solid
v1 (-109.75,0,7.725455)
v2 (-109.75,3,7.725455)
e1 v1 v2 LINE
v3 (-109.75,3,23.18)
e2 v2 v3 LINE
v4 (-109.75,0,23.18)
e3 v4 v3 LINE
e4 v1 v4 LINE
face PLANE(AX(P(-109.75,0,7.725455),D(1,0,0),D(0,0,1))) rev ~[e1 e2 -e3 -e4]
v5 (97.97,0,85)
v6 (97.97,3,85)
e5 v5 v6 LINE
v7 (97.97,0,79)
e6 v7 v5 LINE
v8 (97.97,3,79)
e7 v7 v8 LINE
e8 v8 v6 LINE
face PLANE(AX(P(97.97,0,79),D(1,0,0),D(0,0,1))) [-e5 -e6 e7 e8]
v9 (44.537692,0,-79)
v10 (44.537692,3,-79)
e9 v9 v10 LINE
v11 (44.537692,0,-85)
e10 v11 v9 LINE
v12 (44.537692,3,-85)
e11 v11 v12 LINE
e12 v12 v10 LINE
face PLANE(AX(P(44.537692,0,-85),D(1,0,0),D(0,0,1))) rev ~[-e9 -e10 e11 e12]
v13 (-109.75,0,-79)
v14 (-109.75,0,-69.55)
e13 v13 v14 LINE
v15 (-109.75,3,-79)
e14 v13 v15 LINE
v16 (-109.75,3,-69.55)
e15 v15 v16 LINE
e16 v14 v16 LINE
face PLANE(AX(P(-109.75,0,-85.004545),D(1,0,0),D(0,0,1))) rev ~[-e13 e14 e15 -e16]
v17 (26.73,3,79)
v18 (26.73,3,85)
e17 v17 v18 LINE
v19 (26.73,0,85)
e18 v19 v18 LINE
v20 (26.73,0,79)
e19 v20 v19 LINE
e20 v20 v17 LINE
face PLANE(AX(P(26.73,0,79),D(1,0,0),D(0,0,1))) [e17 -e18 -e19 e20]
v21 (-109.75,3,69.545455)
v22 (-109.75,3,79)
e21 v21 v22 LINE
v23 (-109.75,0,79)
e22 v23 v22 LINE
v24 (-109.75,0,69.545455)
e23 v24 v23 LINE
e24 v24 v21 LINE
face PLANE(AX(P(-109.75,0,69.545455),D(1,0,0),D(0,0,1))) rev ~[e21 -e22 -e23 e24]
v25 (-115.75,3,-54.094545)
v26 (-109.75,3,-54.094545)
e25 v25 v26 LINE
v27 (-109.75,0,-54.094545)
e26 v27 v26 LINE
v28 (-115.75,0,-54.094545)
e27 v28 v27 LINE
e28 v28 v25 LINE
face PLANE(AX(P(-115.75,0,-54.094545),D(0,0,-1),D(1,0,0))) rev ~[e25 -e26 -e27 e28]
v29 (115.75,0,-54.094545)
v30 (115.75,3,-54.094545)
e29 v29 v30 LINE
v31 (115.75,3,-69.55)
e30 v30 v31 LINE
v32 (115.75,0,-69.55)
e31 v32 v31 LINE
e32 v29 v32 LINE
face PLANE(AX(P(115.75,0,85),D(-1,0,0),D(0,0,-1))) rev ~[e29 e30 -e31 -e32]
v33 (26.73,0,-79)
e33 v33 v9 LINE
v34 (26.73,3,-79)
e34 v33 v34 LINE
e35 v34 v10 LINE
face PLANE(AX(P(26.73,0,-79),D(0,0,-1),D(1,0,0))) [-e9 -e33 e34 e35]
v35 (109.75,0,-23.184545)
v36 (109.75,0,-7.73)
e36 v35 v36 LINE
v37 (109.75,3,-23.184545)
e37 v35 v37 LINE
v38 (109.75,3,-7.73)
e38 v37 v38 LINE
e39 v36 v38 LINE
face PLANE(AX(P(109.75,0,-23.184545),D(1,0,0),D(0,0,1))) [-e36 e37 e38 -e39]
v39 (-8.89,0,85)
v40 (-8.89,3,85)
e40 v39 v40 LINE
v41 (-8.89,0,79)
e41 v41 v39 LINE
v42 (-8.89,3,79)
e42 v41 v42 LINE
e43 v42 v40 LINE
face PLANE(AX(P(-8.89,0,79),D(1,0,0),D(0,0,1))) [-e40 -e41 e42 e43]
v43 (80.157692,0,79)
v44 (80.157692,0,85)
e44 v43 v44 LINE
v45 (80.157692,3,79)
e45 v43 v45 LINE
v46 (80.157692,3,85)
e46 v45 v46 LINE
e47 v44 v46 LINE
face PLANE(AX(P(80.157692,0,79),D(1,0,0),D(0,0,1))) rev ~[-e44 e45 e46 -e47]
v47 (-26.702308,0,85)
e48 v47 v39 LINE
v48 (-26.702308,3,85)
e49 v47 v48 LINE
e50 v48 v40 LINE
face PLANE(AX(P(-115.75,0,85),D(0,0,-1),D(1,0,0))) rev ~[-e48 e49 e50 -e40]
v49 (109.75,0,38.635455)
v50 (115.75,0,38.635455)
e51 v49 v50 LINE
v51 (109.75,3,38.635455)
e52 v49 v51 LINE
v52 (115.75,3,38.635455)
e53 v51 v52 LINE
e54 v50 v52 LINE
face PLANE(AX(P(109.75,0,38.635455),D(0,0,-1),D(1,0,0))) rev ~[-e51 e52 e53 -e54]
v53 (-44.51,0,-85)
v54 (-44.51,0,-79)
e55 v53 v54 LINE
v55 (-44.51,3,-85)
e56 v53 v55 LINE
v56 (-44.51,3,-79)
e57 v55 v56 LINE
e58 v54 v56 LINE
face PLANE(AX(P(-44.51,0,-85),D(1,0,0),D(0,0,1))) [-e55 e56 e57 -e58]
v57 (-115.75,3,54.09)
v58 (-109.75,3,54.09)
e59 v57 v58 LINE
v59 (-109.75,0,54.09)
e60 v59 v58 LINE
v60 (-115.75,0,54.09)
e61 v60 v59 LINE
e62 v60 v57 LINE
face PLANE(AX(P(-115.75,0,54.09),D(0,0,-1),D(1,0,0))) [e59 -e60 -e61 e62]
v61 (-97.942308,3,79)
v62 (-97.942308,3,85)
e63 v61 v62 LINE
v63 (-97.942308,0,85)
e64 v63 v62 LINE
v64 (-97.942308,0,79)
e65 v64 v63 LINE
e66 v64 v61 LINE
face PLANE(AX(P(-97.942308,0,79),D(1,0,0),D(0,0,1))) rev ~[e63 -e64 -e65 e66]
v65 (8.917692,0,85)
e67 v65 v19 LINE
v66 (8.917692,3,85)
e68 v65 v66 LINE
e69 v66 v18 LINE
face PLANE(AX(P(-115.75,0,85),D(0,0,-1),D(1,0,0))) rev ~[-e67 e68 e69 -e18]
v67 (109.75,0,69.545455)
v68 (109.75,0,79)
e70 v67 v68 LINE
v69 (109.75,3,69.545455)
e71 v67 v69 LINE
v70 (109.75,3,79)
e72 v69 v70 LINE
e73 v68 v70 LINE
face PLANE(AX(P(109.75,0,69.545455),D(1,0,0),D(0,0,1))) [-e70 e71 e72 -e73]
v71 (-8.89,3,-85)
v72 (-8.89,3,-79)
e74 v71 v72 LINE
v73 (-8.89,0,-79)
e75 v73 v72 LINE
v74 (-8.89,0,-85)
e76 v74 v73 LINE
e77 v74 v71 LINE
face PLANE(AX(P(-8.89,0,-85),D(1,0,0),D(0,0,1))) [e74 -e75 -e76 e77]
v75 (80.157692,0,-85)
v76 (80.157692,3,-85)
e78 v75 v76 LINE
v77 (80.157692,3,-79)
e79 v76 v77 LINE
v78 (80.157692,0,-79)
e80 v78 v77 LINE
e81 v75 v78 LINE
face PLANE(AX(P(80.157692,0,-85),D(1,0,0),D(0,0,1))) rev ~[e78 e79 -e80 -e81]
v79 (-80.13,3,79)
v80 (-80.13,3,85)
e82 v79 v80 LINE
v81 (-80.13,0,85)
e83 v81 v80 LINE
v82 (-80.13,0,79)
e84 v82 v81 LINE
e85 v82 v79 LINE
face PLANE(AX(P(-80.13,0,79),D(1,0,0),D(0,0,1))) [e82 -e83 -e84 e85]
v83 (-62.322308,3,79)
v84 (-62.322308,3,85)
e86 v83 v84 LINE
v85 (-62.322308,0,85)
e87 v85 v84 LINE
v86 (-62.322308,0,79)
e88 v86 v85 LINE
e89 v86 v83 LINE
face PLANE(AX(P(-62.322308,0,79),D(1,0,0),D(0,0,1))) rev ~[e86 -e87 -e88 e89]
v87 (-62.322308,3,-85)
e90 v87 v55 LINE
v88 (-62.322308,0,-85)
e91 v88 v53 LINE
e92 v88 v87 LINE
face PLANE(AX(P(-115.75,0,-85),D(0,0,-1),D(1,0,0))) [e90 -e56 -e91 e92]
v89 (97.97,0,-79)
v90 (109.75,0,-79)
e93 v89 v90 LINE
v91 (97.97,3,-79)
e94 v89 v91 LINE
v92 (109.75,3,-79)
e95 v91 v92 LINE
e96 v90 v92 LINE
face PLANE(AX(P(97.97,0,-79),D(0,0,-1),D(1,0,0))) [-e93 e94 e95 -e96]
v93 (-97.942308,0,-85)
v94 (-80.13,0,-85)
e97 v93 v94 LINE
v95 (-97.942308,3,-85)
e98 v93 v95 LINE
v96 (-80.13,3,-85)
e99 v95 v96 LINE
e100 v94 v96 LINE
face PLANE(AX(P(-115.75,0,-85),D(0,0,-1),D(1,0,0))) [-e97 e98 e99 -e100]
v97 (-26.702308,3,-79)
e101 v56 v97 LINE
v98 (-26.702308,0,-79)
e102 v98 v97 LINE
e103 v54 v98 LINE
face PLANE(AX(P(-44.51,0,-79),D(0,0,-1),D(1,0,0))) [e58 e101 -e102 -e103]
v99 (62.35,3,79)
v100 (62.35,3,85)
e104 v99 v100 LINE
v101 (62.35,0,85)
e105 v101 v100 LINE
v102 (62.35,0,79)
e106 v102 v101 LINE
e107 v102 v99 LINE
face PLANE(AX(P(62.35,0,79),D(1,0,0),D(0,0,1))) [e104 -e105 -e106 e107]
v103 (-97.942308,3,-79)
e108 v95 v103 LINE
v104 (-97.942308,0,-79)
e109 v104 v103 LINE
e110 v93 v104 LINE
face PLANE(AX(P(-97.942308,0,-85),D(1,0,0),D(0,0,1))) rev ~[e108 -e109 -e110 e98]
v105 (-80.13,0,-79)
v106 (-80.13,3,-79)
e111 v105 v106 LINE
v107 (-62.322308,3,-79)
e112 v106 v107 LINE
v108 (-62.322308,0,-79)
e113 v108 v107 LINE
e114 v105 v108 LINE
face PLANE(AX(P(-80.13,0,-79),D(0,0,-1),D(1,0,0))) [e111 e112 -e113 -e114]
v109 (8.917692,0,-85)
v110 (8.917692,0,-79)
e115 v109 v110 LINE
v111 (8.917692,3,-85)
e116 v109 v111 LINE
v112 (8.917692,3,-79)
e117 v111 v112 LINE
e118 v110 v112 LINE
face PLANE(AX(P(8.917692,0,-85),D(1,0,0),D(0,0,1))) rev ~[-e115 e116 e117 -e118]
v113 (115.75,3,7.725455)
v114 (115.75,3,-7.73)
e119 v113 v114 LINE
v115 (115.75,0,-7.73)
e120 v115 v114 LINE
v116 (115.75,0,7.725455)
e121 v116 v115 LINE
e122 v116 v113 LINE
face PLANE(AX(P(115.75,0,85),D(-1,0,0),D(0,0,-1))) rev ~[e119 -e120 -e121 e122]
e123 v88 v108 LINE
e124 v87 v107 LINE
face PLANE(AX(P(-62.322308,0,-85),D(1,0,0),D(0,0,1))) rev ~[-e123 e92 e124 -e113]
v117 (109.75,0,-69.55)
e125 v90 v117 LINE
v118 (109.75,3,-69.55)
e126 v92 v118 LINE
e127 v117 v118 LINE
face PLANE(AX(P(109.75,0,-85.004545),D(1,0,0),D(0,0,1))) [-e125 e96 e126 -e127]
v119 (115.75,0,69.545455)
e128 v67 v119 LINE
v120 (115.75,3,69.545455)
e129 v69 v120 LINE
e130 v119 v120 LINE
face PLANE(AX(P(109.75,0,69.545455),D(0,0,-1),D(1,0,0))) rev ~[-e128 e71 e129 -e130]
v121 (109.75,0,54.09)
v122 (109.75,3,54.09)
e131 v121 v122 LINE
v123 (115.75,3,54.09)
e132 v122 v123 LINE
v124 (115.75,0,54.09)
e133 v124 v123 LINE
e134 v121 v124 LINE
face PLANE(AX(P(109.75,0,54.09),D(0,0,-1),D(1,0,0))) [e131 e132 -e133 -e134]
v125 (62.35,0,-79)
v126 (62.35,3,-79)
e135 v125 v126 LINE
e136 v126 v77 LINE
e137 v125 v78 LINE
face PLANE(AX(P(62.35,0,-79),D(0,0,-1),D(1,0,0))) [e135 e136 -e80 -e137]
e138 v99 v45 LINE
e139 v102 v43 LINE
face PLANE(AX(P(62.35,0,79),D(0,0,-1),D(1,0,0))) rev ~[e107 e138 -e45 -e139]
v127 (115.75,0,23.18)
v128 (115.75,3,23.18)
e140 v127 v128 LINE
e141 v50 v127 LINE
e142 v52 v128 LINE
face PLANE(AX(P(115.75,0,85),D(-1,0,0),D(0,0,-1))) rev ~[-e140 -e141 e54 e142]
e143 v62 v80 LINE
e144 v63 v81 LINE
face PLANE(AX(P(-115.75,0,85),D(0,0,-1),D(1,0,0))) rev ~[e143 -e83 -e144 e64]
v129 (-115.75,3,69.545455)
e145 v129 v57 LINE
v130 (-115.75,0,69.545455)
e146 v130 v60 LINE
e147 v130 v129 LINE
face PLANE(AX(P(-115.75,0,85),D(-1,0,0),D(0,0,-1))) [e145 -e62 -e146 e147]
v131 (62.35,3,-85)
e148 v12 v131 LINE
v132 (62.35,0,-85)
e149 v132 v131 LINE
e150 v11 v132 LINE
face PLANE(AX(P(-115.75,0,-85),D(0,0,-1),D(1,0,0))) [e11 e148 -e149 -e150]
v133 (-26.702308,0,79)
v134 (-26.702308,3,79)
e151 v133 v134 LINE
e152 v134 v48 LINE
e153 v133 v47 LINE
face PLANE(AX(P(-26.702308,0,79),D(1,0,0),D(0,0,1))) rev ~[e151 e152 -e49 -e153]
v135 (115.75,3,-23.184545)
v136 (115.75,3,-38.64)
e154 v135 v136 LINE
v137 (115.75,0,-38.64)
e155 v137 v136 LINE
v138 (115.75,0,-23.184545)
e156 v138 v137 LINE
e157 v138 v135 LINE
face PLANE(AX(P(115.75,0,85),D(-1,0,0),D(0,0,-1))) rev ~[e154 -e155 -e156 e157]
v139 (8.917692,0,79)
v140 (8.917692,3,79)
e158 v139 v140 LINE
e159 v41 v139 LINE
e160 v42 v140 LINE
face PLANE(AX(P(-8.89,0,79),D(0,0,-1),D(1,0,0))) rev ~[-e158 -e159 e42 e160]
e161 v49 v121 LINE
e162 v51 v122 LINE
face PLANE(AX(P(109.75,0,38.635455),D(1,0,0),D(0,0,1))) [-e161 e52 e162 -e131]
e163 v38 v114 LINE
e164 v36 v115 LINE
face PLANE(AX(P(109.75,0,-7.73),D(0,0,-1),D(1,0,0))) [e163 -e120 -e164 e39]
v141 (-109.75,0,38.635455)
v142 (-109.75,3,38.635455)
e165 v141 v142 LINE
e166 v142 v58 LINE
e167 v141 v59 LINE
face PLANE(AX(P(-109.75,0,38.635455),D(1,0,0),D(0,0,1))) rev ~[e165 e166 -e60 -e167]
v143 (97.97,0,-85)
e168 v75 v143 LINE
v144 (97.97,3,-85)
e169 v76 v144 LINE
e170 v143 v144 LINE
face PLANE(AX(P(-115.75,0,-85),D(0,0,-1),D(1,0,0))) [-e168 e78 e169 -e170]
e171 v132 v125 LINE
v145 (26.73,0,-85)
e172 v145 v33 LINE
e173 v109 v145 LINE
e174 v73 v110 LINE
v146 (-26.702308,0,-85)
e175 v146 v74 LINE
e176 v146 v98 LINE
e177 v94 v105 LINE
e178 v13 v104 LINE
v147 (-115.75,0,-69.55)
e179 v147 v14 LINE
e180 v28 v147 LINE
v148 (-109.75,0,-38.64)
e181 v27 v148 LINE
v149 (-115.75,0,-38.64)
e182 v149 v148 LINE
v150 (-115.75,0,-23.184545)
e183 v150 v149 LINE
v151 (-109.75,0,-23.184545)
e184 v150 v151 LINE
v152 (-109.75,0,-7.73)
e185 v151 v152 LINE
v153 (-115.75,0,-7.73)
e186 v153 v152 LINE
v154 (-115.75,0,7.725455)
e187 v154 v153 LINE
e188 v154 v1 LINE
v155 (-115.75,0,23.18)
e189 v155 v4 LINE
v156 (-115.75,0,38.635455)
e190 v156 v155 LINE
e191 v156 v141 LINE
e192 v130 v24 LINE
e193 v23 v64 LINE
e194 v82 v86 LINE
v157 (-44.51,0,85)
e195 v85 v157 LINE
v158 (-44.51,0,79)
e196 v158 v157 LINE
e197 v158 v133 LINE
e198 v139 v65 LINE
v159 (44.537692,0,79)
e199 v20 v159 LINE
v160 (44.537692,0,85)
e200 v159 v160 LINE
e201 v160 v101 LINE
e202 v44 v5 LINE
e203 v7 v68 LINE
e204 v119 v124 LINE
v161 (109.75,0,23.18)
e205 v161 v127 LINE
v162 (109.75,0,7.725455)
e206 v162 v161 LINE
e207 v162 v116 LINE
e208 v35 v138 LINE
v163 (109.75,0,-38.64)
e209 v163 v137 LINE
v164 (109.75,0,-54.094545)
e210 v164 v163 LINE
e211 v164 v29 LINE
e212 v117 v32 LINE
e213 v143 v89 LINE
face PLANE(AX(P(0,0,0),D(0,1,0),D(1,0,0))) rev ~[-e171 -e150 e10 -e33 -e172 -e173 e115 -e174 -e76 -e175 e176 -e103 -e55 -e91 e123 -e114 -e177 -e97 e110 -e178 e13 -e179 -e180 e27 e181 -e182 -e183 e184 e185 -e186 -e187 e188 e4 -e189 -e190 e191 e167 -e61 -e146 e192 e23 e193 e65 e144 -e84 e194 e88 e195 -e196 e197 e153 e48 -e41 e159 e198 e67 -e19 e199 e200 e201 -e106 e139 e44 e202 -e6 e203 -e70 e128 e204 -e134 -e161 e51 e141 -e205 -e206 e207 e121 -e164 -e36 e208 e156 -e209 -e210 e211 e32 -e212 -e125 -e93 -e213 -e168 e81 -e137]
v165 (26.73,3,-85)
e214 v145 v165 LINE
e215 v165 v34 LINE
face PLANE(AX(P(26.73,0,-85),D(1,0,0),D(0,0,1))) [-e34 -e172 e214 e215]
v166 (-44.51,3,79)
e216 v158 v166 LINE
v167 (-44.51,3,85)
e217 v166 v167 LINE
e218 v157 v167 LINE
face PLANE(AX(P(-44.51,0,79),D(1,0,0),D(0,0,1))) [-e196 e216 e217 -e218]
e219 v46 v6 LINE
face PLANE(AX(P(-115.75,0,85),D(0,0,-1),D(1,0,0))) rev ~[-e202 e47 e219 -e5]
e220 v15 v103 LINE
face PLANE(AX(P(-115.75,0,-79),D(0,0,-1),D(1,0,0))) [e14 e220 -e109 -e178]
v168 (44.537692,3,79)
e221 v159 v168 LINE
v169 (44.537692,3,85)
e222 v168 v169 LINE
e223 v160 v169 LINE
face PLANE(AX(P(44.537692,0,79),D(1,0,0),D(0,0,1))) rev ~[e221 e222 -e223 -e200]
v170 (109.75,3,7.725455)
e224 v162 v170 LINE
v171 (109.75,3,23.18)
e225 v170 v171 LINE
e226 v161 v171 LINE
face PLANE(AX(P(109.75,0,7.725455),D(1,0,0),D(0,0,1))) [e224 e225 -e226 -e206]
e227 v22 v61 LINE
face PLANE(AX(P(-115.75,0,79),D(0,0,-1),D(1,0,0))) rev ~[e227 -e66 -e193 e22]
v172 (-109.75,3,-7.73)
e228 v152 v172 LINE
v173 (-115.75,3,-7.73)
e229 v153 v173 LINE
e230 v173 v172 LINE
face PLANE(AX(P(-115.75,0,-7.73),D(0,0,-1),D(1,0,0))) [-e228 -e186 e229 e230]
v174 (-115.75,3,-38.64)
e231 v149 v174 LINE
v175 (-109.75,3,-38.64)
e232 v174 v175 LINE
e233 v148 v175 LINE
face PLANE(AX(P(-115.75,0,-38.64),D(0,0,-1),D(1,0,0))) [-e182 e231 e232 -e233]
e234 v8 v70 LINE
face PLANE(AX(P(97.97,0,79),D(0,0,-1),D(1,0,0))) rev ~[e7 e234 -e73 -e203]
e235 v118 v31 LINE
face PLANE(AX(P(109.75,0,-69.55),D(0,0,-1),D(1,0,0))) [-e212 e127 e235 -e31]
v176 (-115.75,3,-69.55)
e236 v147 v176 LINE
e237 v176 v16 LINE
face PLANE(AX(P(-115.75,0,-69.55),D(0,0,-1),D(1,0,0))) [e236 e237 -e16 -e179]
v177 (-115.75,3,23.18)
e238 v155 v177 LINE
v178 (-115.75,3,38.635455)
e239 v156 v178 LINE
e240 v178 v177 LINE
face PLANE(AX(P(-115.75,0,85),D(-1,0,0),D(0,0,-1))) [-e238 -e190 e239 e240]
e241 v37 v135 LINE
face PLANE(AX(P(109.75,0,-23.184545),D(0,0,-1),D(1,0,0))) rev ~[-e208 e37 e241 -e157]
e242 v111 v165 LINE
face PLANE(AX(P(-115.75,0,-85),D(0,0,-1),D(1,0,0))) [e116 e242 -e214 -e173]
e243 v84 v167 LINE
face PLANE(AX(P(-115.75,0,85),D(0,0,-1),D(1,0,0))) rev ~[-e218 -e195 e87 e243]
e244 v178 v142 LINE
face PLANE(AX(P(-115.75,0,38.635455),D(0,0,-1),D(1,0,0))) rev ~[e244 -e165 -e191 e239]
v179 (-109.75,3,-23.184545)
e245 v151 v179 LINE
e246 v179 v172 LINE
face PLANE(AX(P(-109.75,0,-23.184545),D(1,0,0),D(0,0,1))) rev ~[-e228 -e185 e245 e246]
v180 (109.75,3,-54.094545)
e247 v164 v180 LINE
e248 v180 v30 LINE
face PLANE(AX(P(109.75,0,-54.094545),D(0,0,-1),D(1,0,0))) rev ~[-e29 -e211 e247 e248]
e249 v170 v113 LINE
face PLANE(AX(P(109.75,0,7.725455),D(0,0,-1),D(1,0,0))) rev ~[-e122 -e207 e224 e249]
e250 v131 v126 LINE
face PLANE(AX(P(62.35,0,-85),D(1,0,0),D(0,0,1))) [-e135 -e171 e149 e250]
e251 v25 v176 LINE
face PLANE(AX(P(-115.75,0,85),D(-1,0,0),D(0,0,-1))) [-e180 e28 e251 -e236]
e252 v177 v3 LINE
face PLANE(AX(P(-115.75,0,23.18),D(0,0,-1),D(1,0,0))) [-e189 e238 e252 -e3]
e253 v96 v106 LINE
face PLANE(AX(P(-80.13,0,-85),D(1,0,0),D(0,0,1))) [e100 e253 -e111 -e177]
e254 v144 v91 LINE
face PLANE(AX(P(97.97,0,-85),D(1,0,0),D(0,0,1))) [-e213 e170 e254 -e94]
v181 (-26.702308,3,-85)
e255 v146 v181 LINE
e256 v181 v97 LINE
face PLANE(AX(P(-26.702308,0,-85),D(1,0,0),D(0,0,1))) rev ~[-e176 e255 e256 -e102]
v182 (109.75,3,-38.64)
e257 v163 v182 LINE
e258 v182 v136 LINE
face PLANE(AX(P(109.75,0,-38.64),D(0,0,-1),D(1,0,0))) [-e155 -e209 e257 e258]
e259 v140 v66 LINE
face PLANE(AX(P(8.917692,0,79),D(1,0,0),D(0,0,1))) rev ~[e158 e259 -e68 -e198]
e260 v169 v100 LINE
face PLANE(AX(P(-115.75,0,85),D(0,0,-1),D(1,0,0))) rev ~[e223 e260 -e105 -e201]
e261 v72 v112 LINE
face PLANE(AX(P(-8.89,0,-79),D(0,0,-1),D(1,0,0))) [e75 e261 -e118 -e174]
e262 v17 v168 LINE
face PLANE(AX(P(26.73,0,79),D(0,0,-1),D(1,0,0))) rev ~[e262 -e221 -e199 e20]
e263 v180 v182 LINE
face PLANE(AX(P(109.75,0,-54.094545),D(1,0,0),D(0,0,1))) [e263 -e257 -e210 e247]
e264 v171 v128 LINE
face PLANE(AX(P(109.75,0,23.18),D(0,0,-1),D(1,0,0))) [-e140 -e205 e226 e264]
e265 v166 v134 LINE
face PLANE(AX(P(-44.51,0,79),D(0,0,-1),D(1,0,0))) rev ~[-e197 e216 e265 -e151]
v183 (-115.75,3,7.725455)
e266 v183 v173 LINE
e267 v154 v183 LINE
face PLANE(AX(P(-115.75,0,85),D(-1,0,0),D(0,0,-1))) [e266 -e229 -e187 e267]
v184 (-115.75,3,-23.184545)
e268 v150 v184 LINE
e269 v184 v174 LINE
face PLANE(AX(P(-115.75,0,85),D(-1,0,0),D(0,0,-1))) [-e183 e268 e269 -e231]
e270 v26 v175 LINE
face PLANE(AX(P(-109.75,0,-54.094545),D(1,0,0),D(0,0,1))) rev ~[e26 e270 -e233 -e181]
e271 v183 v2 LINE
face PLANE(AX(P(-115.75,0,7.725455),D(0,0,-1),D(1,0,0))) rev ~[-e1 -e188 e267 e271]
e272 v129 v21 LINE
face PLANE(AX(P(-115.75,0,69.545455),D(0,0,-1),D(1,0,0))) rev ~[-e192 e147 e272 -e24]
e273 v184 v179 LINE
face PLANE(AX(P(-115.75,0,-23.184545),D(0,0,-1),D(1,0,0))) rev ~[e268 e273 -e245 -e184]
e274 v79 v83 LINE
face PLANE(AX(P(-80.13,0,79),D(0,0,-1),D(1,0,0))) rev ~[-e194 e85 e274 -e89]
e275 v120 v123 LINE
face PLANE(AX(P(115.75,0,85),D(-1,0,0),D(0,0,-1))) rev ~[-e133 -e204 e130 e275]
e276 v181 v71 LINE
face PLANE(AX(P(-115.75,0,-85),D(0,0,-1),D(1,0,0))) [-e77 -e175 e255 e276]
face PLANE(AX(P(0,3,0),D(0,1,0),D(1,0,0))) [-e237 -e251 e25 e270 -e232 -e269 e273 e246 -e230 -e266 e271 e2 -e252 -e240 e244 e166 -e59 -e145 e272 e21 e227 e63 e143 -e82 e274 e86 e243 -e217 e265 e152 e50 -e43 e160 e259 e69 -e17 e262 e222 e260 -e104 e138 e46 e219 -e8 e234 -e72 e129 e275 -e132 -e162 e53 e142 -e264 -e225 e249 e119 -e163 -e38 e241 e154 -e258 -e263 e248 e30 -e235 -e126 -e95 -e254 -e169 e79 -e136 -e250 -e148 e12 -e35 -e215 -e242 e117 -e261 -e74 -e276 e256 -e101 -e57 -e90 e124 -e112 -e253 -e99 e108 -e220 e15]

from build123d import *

# Parameters (mm, degrees)
ESBO_O1_W                = 231.5
ESBO_O1_H                = 170
RESSALTO_EXTRUS_O1_DEPTH = 3
CORTE_EXTRUS_O1_REACH    = 145.639
ESBO_O2_W                = 17.807692308
ESBO_O2_H                = 6
CORTE_EXTRUS_O2_REACH    = 145.639
ESBO_O3_W                = 6
ESBO_O3_H                = 15.454545455


with BuildPart() as part:
    # Esboço1 → Ressalto-extrusão1 (new body)
    with BuildSketch(Plane(origin=(0, 0, 0), x_dir=(1, 0, 0), z_dir=(0, 1, 0))):
        Rectangle(ESBO_O1_W, ESBO_O1_H)
    extrude(amount=RESSALTO_EXTRUS_O1_DEPTH)

    # Esboço2 → Corte-extrusão1 (cut, up to next)
    with BuildSketch(Plane.XZ, mode=Mode.PRIVATE) as corte_extrus_o1_sk1:
        with Locations((-71.226153846, 82)):
            Rectangle(ESBO_O2_W, ESBO_O2_H)
    corte_extrus_o1_tool1 = extrude(corte_extrus_o1_sk1.sketch, amount=-CORTE_EXTRUS_O1_REACH, mode=Mode.PRIVATE) & part.part
    # Esboço2 → Corte-extrusão1 (cut, up to next)
    with BuildSketch(Plane.XZ, mode=Mode.PRIVATE) as corte_extrus_o1_sk2:
        with Locations((-106.846153846, 82)):
            Rectangle(ESBO_O2_W, ESBO_O2_H)
    corte_extrus_o1_tool2 = extrude(corte_extrus_o1_sk2.sketch, amount=-CORTE_EXTRUS_O1_REACH, mode=Mode.PRIVATE) & part.part
    # Esboço2 → Corte-extrusão1 (cut, up to next)
    with BuildSketch(Plane.XZ, mode=Mode.PRIVATE) as corte_extrus_o1_sk3:
        with Locations((-35.606153846, 82)):
            Rectangle(ESBO_O2_W, ESBO_O2_H)
    corte_extrus_o1_tool3 = extrude(corte_extrus_o1_sk3.sketch, amount=-CORTE_EXTRUS_O1_REACH, mode=Mode.PRIVATE) & part.part
    # Esboço2 → Corte-extrusão1 (cut, up to next)
    with BuildSketch(Plane.XZ, mode=Mode.PRIVATE) as corte_extrus_o1_sk4:
        with Locations((0.013846154, 82)):
            Rectangle(ESBO_O2_W, ESBO_O2_H)
    corte_extrus_o1_tool4 = extrude(corte_extrus_o1_sk4.sketch, amount=-CORTE_EXTRUS_O1_REACH, mode=Mode.PRIVATE) & part.part
    # Esboço2 → Corte-extrusão1 (cut, up to next)
    with BuildSketch(Plane.XZ, mode=Mode.PRIVATE) as corte_extrus_o1_sk5:
        with Locations((35.633846154, 82)):
            Rectangle(ESBO_O2_W, ESBO_O2_H)
    corte_extrus_o1_tool5 = extrude(corte_extrus_o1_sk5.sketch, amount=-CORTE_EXTRUS_O1_REACH, mode=Mode.PRIVATE) & part.part
    # Esboço2 → Corte-extrusão1 (cut, up to next)
    with BuildSketch(Plane.XZ, mode=Mode.PRIVATE) as corte_extrus_o1_sk6:
        with Locations((71.253846154, 82)):
            Rectangle(ESBO_O2_W, ESBO_O2_H)
    corte_extrus_o1_tool6 = extrude(corte_extrus_o1_sk6.sketch, amount=-CORTE_EXTRUS_O1_REACH, mode=Mode.PRIVATE) & part.part
    # Esboço2 → Corte-extrusão1 (cut, up to next)
    with BuildSketch(Plane.XZ, mode=Mode.PRIVATE) as corte_extrus_o1_sk7:
        with Locations((106.873846154, 82)):
            Rectangle(ESBO_O2_W, ESBO_O2_H)
    corte_extrus_o1_tool7 = extrude(corte_extrus_o1_sk7.sketch, amount=-CORTE_EXTRUS_O1_REACH, mode=Mode.PRIVATE) & part.part
    # Esboço2 → Corte-extrusão1 (cut, up to next)
    with BuildSketch(Plane.XZ, mode=Mode.PRIVATE) as corte_extrus_o1_sk8:
        with Locations((-71.226153846, -82)):
            Rectangle(ESBO_O2_W, ESBO_O2_H)
    corte_extrus_o1_tool8 = extrude(corte_extrus_o1_sk8.sketch, amount=-CORTE_EXTRUS_O1_REACH, mode=Mode.PRIVATE) & part.part
    # Esboço2 → Corte-extrusão1 (cut, up to next)
    with BuildSketch(Plane.XZ, mode=Mode.PRIVATE) as corte_extrus_o1_sk9:
        with Locations((-35.606153846, -82)):
            Rectangle(ESBO_O2_W, ESBO_O2_H)
    corte_extrus_o1_tool9 = extrude(corte_extrus_o1_sk9.sketch, amount=-CORTE_EXTRUS_O1_REACH, mode=Mode.PRIVATE) & part.part
    # Esboço2 → Corte-extrusão1 (cut, up to next)
    with BuildSketch(Plane.XZ, mode=Mode.PRIVATE) as corte_extrus_o1_sk10:
        with Locations((0.013846154, -82)):
            Rectangle(ESBO_O2_W, ESBO_O2_H)
    corte_extrus_o1_tool10 = extrude(corte_extrus_o1_sk10.sketch, amount=-CORTE_EXTRUS_O1_REACH, mode=Mode.PRIVATE) & part.part
    # Esboço2 → Corte-extrusão1 (cut, up to next)
    with BuildSketch(Plane.XZ, mode=Mode.PRIVATE) as corte_extrus_o1_sk11:
        with Locations((35.633846154, -82)):
            Rectangle(ESBO_O2_W, ESBO_O2_H)
    corte_extrus_o1_tool11 = extrude(corte_extrus_o1_sk11.sketch, amount=-CORTE_EXTRUS_O1_REACH, mode=Mode.PRIVATE) & part.part
    # Esboço2 → Corte-extrusão1 (cut, up to next)
    with BuildSketch(Plane.XZ, mode=Mode.PRIVATE) as corte_extrus_o1_sk12:
        with Locations((71.253846154, -82)):
            Rectangle(ESBO_O2_W, ESBO_O2_H)
    corte_extrus_o1_tool12 = extrude(corte_extrus_o1_sk12.sketch, amount=-CORTE_EXTRUS_O1_REACH, mode=Mode.PRIVATE) & part.part
    # Esboço2 → Corte-extrusão1 (cut, up to next)
    with BuildSketch(Plane.XZ, mode=Mode.PRIVATE) as corte_extrus_o1_sk13:
        with Locations((106.873846154, -82)):
            Rectangle(ESBO_O2_W, ESBO_O2_H)
    corte_extrus_o1_tool13 = extrude(corte_extrus_o1_sk13.sketch, amount=-CORTE_EXTRUS_O1_REACH, mode=Mode.PRIVATE) & part.part
    # Esboço2 → Corte-extrusão1 (cut, up to next)
    with BuildSketch(Plane.XZ, mode=Mode.PRIVATE) as corte_extrus_o1_sk14:
        with Locations((-106.846153846, -82)):
            Rectangle(ESBO_O2_W, ESBO_O2_H)
    corte_extrus_o1_tool14 = extrude(corte_extrus_o1_sk14.sketch, amount=-CORTE_EXTRUS_O1_REACH, mode=Mode.PRIVATE) & part.part
    add(corte_extrus_o1_tool1.solids().sort_by_distance((-71.226154, 0, 82))[0], mode=Mode.SUBTRACT)
    add(corte_extrus_o1_tool2.solids().sort_by_distance((-106.846154, 0, 82))[0], mode=Mode.SUBTRACT)
    add(corte_extrus_o1_tool3.solids().sort_by_distance((-35.606154, 0, 82))[0], mode=Mode.SUBTRACT)
    add(corte_extrus_o1_tool4.solids().sort_by_distance((0.013846, 0, 82))[0], mode=Mode.SUBTRACT)
    add(corte_extrus_o1_tool5.solids().sort_by_distance((35.633846, 0, 82))[0], mode=Mode.SUBTRACT)
    add(corte_extrus_o1_tool6.solids().sort_by_distance((71.253846, 0, 82))[0], mode=Mode.SUBTRACT)
    add(corte_extrus_o1_tool7.solids().sort_by_distance((106.873846, 0, 82))[0], mode=Mode.SUBTRACT)
    add(corte_extrus_o1_tool8.solids().sort_by_distance((-71.226154, 0, -82))[0], mode=Mode.SUBTRACT)
    add(corte_extrus_o1_tool9.solids().sort_by_distance((-35.606154, 0, -82))[0], mode=Mode.SUBTRACT)
    add(corte_extrus_o1_tool10.solids().sort_by_distance((0.013846, 0, -82))[0], mode=Mode.SUBTRACT)
    add(corte_extrus_o1_tool11.solids().sort_by_distance((35.633846, 0, -82))[0], mode=Mode.SUBTRACT)
    add(corte_extrus_o1_tool12.solids().sort_by_distance((71.253846, 0, -82))[0], mode=Mode.SUBTRACT)
    add(corte_extrus_o1_tool13.solids().sort_by_distance((106.873846, 0, -82))[0], mode=Mode.SUBTRACT)
    add(corte_extrus_o1_tool14.solids().sort_by_distance((-106.846154, 0, -82))[0], mode=Mode.SUBTRACT)

    # Esboço3 → Corte-extrusão2 (cut, up to next)
    with BuildSketch(Plane.XZ, mode=Mode.PRIVATE) as corte_extrus_o2_sk1:
        with Locations((112.75, 77.272727272)):
            Rectangle(ESBO_O3_W, ESBO_O3_H)
    corte_extrus_o2_tool1 = extrude(corte_extrus_o2_sk1.sketch, amount=-CORTE_EXTRUS_O2_REACH, mode=Mode.PRIVATE) & part.part
    # Esboço3 → Corte-extrusão2 (cut, up to next)
    with BuildSketch(Plane.XZ, mode=Mode.PRIVATE) as corte_extrus_o2_sk2:
        with Locations((-112.75, 77.272727272)):
            Rectangle(ESBO_O3_W, ESBO_O3_H)
    corte_extrus_o2_tool2 = extrude(corte_extrus_o2_sk2.sketch, amount=-CORTE_EXTRUS_O2_REACH, mode=Mode.PRIVATE) & part.part
    # Esboço3 → Corte-extrusão2 (cut, up to next)
    with BuildSketch(Plane.XZ, mode=Mode.PRIVATE) as corte_extrus_o2_sk3:
        with Locations((112.75, 46.362727273)):
            Rectangle(ESBO_O3_W, ESBO_O3_H)
    corte_extrus_o2_tool3 = extrude(corte_extrus_o2_sk3.sketch, amount=-CORTE_EXTRUS_O2_REACH, mode=Mode.PRIVATE) & part.part
    # Esboço3 → Corte-extrusão2 (cut, up to next)
    with BuildSketch(Plane.XZ, mode=Mode.PRIVATE) as corte_extrus_o2_sk4:
        with Locations((112.75, 15.452727273)):
            Rectangle(ESBO_O3_W, ESBO_O3_H)
    corte_extrus_o2_tool4 = extrude(corte_extrus_o2_sk4.sketch, amount=-CORTE_EXTRUS_O2_REACH, mode=Mode.PRIVATE) & part.part
    # Esboço3 → Corte-extrusão2 (cut, up to next)
    with BuildSketch(Plane.XZ, mode=Mode.PRIVATE) as corte_extrus_o2_sk5:
        with Locations((112.75, -15.457272728)):
            Rectangle(ESBO_O3_W, ESBO_O3_H)
    corte_extrus_o2_tool5 = extrude(corte_extrus_o2_sk5.sketch, amount=-CORTE_EXTRUS_O2_REACH, mode=Mode.PRIVATE) & part.part
    # Esboço3 → Corte-extrusão2 (cut, up to next)
    with BuildSketch(Plane.XZ, mode=Mode.PRIVATE) as corte_extrus_o2_sk6:
        with Locations((112.75, -46.367272728)):
            Rectangle(ESBO_O3_W, ESBO_O3_H)
    corte_extrus_o2_tool6 = extrude(corte_extrus_o2_sk6.sketch, amount=-CORTE_EXTRUS_O2_REACH, mode=Mode.PRIVATE) & part.part
    # Esboço3 → Corte-extrusão2 (cut, up to next)
    with BuildSketch(Plane.XZ, mode=Mode.PRIVATE) as corte_extrus_o2_sk7:
        with Locations((112.75, -77.277272728)):
            Rectangle(ESBO_O3_W, ESBO_O3_H)
    corte_extrus_o2_tool7 = extrude(corte_extrus_o2_sk7.sketch, amount=-CORTE_EXTRUS_O2_REACH, mode=Mode.PRIVATE) & part.part
    # Esboço3 → Corte-extrusão2 (cut, up to next)
    with BuildSketch(Plane.XZ, mode=Mode.PRIVATE) as corte_extrus_o2_sk8:
        with Locations((-112.75, 46.362727273)):
            Rectangle(ESBO_O3_W, ESBO_O3_H)
    corte_extrus_o2_tool8 = extrude(corte_extrus_o2_sk8.sketch, amount=-CORTE_EXTRUS_O2_REACH, mode=Mode.PRIVATE) & part.part
    # Esboço3 → Corte-extrusão2 (cut, up to next)
    with BuildSketch(Plane.XZ, mode=Mode.PRIVATE) as corte_extrus_o2_sk9:
        with Locations((-112.75, 15.452727273)):
            Rectangle(ESBO_O3_W, ESBO_O3_H)
    corte_extrus_o2_tool9 = extrude(corte_extrus_o2_sk9.sketch, amount=-CORTE_EXTRUS_O2_REACH, mode=Mode.PRIVATE) & part.part
    # Esboço3 → Corte-extrusão2 (cut, up to next)
    with BuildSketch(Plane.XZ, mode=Mode.PRIVATE) as corte_extrus_o2_sk10:
        with Locations((-112.75, -15.457272728)):
            Rectangle(ESBO_O3_W, ESBO_O3_H)
    corte_extrus_o2_tool10 = extrude(corte_extrus_o2_sk10.sketch, amount=-CORTE_EXTRUS_O2_REACH, mode=Mode.PRIVATE) & part.part
    # Esboço3 → Corte-extrusão2 (cut, up to next)
    with BuildSketch(Plane.XZ, mode=Mode.PRIVATE) as corte_extrus_o2_sk11:
        with Locations((-112.75, -46.367272728)):
            Rectangle(ESBO_O3_W, ESBO_O3_H)
    corte_extrus_o2_tool11 = extrude(corte_extrus_o2_sk11.sketch, amount=-CORTE_EXTRUS_O2_REACH, mode=Mode.PRIVATE) & part.part
    # Esboço3 → Corte-extrusão2 (cut, up to next)
    with BuildSketch(Plane.XZ, mode=Mode.PRIVATE) as corte_extrus_o2_sk12:
        with Locations((-112.75, -77.277272728)):
            Rectangle(ESBO_O3_W, ESBO_O3_H)
    corte_extrus_o2_tool12 = extrude(corte_extrus_o2_sk12.sketch, amount=-CORTE_EXTRUS_O2_REACH, mode=Mode.PRIVATE) & part.part
    add(corte_extrus_o2_tool1.solids().sort_by_distance((112.75, 0, 77.272727))[0], mode=Mode.SUBTRACT)
    add(corte_extrus_o2_tool2.solids().sort_by_distance((-112.75, 0, 77.272727))[0], mode=Mode.SUBTRACT)
    add(corte_extrus_o2_tool3.solids().sort_by_distance((112.75, 0, 46.362727))[0], mode=Mode.SUBTRACT)
    add(corte_extrus_o2_tool4.solids().sort_by_distance((112.75, 0, 15.452727))[0], mode=Mode.SUBTRACT)
    add(corte_extrus_o2_tool5.solids().sort_by_distance((112.75, 0, -15.457273))[0], mode=Mode.SUBTRACT)
    add(corte_extrus_o2_tool6.solids().sort_by_distance((112.75, 0, -46.367273))[0], mode=Mode.SUBTRACT)
    add(corte_extrus_o2_tool7.solids().sort_by_distance((112.75, 0, -77.277273))[0], mode=Mode.SUBTRACT)
    add(corte_extrus_o2_tool8.solids().sort_by_distance((-112.75, 0, 46.362727))[0], mode=Mode.SUBTRACT)
    add(corte_extrus_o2_tool9.solids().sort_by_distance((-112.75, 0, 15.452727))[0], mode=Mode.SUBTRACT)
    add(corte_extrus_o2_tool10.solids().sort_by_distance((-112.75, 0, -15.457273))[0], mode=Mode.SUBTRACT)
    add(corte_extrus_o2_tool11.solids().sort_by_distance((-112.75, 0, -46.367273))[0], mode=Mode.SUBTRACT)
    add(corte_extrus_o2_tool12.solids().sort_by_distance((-112.75, 0, -77.277273))[0], mode=Mode.SUBTRACT)


solid = part.part
